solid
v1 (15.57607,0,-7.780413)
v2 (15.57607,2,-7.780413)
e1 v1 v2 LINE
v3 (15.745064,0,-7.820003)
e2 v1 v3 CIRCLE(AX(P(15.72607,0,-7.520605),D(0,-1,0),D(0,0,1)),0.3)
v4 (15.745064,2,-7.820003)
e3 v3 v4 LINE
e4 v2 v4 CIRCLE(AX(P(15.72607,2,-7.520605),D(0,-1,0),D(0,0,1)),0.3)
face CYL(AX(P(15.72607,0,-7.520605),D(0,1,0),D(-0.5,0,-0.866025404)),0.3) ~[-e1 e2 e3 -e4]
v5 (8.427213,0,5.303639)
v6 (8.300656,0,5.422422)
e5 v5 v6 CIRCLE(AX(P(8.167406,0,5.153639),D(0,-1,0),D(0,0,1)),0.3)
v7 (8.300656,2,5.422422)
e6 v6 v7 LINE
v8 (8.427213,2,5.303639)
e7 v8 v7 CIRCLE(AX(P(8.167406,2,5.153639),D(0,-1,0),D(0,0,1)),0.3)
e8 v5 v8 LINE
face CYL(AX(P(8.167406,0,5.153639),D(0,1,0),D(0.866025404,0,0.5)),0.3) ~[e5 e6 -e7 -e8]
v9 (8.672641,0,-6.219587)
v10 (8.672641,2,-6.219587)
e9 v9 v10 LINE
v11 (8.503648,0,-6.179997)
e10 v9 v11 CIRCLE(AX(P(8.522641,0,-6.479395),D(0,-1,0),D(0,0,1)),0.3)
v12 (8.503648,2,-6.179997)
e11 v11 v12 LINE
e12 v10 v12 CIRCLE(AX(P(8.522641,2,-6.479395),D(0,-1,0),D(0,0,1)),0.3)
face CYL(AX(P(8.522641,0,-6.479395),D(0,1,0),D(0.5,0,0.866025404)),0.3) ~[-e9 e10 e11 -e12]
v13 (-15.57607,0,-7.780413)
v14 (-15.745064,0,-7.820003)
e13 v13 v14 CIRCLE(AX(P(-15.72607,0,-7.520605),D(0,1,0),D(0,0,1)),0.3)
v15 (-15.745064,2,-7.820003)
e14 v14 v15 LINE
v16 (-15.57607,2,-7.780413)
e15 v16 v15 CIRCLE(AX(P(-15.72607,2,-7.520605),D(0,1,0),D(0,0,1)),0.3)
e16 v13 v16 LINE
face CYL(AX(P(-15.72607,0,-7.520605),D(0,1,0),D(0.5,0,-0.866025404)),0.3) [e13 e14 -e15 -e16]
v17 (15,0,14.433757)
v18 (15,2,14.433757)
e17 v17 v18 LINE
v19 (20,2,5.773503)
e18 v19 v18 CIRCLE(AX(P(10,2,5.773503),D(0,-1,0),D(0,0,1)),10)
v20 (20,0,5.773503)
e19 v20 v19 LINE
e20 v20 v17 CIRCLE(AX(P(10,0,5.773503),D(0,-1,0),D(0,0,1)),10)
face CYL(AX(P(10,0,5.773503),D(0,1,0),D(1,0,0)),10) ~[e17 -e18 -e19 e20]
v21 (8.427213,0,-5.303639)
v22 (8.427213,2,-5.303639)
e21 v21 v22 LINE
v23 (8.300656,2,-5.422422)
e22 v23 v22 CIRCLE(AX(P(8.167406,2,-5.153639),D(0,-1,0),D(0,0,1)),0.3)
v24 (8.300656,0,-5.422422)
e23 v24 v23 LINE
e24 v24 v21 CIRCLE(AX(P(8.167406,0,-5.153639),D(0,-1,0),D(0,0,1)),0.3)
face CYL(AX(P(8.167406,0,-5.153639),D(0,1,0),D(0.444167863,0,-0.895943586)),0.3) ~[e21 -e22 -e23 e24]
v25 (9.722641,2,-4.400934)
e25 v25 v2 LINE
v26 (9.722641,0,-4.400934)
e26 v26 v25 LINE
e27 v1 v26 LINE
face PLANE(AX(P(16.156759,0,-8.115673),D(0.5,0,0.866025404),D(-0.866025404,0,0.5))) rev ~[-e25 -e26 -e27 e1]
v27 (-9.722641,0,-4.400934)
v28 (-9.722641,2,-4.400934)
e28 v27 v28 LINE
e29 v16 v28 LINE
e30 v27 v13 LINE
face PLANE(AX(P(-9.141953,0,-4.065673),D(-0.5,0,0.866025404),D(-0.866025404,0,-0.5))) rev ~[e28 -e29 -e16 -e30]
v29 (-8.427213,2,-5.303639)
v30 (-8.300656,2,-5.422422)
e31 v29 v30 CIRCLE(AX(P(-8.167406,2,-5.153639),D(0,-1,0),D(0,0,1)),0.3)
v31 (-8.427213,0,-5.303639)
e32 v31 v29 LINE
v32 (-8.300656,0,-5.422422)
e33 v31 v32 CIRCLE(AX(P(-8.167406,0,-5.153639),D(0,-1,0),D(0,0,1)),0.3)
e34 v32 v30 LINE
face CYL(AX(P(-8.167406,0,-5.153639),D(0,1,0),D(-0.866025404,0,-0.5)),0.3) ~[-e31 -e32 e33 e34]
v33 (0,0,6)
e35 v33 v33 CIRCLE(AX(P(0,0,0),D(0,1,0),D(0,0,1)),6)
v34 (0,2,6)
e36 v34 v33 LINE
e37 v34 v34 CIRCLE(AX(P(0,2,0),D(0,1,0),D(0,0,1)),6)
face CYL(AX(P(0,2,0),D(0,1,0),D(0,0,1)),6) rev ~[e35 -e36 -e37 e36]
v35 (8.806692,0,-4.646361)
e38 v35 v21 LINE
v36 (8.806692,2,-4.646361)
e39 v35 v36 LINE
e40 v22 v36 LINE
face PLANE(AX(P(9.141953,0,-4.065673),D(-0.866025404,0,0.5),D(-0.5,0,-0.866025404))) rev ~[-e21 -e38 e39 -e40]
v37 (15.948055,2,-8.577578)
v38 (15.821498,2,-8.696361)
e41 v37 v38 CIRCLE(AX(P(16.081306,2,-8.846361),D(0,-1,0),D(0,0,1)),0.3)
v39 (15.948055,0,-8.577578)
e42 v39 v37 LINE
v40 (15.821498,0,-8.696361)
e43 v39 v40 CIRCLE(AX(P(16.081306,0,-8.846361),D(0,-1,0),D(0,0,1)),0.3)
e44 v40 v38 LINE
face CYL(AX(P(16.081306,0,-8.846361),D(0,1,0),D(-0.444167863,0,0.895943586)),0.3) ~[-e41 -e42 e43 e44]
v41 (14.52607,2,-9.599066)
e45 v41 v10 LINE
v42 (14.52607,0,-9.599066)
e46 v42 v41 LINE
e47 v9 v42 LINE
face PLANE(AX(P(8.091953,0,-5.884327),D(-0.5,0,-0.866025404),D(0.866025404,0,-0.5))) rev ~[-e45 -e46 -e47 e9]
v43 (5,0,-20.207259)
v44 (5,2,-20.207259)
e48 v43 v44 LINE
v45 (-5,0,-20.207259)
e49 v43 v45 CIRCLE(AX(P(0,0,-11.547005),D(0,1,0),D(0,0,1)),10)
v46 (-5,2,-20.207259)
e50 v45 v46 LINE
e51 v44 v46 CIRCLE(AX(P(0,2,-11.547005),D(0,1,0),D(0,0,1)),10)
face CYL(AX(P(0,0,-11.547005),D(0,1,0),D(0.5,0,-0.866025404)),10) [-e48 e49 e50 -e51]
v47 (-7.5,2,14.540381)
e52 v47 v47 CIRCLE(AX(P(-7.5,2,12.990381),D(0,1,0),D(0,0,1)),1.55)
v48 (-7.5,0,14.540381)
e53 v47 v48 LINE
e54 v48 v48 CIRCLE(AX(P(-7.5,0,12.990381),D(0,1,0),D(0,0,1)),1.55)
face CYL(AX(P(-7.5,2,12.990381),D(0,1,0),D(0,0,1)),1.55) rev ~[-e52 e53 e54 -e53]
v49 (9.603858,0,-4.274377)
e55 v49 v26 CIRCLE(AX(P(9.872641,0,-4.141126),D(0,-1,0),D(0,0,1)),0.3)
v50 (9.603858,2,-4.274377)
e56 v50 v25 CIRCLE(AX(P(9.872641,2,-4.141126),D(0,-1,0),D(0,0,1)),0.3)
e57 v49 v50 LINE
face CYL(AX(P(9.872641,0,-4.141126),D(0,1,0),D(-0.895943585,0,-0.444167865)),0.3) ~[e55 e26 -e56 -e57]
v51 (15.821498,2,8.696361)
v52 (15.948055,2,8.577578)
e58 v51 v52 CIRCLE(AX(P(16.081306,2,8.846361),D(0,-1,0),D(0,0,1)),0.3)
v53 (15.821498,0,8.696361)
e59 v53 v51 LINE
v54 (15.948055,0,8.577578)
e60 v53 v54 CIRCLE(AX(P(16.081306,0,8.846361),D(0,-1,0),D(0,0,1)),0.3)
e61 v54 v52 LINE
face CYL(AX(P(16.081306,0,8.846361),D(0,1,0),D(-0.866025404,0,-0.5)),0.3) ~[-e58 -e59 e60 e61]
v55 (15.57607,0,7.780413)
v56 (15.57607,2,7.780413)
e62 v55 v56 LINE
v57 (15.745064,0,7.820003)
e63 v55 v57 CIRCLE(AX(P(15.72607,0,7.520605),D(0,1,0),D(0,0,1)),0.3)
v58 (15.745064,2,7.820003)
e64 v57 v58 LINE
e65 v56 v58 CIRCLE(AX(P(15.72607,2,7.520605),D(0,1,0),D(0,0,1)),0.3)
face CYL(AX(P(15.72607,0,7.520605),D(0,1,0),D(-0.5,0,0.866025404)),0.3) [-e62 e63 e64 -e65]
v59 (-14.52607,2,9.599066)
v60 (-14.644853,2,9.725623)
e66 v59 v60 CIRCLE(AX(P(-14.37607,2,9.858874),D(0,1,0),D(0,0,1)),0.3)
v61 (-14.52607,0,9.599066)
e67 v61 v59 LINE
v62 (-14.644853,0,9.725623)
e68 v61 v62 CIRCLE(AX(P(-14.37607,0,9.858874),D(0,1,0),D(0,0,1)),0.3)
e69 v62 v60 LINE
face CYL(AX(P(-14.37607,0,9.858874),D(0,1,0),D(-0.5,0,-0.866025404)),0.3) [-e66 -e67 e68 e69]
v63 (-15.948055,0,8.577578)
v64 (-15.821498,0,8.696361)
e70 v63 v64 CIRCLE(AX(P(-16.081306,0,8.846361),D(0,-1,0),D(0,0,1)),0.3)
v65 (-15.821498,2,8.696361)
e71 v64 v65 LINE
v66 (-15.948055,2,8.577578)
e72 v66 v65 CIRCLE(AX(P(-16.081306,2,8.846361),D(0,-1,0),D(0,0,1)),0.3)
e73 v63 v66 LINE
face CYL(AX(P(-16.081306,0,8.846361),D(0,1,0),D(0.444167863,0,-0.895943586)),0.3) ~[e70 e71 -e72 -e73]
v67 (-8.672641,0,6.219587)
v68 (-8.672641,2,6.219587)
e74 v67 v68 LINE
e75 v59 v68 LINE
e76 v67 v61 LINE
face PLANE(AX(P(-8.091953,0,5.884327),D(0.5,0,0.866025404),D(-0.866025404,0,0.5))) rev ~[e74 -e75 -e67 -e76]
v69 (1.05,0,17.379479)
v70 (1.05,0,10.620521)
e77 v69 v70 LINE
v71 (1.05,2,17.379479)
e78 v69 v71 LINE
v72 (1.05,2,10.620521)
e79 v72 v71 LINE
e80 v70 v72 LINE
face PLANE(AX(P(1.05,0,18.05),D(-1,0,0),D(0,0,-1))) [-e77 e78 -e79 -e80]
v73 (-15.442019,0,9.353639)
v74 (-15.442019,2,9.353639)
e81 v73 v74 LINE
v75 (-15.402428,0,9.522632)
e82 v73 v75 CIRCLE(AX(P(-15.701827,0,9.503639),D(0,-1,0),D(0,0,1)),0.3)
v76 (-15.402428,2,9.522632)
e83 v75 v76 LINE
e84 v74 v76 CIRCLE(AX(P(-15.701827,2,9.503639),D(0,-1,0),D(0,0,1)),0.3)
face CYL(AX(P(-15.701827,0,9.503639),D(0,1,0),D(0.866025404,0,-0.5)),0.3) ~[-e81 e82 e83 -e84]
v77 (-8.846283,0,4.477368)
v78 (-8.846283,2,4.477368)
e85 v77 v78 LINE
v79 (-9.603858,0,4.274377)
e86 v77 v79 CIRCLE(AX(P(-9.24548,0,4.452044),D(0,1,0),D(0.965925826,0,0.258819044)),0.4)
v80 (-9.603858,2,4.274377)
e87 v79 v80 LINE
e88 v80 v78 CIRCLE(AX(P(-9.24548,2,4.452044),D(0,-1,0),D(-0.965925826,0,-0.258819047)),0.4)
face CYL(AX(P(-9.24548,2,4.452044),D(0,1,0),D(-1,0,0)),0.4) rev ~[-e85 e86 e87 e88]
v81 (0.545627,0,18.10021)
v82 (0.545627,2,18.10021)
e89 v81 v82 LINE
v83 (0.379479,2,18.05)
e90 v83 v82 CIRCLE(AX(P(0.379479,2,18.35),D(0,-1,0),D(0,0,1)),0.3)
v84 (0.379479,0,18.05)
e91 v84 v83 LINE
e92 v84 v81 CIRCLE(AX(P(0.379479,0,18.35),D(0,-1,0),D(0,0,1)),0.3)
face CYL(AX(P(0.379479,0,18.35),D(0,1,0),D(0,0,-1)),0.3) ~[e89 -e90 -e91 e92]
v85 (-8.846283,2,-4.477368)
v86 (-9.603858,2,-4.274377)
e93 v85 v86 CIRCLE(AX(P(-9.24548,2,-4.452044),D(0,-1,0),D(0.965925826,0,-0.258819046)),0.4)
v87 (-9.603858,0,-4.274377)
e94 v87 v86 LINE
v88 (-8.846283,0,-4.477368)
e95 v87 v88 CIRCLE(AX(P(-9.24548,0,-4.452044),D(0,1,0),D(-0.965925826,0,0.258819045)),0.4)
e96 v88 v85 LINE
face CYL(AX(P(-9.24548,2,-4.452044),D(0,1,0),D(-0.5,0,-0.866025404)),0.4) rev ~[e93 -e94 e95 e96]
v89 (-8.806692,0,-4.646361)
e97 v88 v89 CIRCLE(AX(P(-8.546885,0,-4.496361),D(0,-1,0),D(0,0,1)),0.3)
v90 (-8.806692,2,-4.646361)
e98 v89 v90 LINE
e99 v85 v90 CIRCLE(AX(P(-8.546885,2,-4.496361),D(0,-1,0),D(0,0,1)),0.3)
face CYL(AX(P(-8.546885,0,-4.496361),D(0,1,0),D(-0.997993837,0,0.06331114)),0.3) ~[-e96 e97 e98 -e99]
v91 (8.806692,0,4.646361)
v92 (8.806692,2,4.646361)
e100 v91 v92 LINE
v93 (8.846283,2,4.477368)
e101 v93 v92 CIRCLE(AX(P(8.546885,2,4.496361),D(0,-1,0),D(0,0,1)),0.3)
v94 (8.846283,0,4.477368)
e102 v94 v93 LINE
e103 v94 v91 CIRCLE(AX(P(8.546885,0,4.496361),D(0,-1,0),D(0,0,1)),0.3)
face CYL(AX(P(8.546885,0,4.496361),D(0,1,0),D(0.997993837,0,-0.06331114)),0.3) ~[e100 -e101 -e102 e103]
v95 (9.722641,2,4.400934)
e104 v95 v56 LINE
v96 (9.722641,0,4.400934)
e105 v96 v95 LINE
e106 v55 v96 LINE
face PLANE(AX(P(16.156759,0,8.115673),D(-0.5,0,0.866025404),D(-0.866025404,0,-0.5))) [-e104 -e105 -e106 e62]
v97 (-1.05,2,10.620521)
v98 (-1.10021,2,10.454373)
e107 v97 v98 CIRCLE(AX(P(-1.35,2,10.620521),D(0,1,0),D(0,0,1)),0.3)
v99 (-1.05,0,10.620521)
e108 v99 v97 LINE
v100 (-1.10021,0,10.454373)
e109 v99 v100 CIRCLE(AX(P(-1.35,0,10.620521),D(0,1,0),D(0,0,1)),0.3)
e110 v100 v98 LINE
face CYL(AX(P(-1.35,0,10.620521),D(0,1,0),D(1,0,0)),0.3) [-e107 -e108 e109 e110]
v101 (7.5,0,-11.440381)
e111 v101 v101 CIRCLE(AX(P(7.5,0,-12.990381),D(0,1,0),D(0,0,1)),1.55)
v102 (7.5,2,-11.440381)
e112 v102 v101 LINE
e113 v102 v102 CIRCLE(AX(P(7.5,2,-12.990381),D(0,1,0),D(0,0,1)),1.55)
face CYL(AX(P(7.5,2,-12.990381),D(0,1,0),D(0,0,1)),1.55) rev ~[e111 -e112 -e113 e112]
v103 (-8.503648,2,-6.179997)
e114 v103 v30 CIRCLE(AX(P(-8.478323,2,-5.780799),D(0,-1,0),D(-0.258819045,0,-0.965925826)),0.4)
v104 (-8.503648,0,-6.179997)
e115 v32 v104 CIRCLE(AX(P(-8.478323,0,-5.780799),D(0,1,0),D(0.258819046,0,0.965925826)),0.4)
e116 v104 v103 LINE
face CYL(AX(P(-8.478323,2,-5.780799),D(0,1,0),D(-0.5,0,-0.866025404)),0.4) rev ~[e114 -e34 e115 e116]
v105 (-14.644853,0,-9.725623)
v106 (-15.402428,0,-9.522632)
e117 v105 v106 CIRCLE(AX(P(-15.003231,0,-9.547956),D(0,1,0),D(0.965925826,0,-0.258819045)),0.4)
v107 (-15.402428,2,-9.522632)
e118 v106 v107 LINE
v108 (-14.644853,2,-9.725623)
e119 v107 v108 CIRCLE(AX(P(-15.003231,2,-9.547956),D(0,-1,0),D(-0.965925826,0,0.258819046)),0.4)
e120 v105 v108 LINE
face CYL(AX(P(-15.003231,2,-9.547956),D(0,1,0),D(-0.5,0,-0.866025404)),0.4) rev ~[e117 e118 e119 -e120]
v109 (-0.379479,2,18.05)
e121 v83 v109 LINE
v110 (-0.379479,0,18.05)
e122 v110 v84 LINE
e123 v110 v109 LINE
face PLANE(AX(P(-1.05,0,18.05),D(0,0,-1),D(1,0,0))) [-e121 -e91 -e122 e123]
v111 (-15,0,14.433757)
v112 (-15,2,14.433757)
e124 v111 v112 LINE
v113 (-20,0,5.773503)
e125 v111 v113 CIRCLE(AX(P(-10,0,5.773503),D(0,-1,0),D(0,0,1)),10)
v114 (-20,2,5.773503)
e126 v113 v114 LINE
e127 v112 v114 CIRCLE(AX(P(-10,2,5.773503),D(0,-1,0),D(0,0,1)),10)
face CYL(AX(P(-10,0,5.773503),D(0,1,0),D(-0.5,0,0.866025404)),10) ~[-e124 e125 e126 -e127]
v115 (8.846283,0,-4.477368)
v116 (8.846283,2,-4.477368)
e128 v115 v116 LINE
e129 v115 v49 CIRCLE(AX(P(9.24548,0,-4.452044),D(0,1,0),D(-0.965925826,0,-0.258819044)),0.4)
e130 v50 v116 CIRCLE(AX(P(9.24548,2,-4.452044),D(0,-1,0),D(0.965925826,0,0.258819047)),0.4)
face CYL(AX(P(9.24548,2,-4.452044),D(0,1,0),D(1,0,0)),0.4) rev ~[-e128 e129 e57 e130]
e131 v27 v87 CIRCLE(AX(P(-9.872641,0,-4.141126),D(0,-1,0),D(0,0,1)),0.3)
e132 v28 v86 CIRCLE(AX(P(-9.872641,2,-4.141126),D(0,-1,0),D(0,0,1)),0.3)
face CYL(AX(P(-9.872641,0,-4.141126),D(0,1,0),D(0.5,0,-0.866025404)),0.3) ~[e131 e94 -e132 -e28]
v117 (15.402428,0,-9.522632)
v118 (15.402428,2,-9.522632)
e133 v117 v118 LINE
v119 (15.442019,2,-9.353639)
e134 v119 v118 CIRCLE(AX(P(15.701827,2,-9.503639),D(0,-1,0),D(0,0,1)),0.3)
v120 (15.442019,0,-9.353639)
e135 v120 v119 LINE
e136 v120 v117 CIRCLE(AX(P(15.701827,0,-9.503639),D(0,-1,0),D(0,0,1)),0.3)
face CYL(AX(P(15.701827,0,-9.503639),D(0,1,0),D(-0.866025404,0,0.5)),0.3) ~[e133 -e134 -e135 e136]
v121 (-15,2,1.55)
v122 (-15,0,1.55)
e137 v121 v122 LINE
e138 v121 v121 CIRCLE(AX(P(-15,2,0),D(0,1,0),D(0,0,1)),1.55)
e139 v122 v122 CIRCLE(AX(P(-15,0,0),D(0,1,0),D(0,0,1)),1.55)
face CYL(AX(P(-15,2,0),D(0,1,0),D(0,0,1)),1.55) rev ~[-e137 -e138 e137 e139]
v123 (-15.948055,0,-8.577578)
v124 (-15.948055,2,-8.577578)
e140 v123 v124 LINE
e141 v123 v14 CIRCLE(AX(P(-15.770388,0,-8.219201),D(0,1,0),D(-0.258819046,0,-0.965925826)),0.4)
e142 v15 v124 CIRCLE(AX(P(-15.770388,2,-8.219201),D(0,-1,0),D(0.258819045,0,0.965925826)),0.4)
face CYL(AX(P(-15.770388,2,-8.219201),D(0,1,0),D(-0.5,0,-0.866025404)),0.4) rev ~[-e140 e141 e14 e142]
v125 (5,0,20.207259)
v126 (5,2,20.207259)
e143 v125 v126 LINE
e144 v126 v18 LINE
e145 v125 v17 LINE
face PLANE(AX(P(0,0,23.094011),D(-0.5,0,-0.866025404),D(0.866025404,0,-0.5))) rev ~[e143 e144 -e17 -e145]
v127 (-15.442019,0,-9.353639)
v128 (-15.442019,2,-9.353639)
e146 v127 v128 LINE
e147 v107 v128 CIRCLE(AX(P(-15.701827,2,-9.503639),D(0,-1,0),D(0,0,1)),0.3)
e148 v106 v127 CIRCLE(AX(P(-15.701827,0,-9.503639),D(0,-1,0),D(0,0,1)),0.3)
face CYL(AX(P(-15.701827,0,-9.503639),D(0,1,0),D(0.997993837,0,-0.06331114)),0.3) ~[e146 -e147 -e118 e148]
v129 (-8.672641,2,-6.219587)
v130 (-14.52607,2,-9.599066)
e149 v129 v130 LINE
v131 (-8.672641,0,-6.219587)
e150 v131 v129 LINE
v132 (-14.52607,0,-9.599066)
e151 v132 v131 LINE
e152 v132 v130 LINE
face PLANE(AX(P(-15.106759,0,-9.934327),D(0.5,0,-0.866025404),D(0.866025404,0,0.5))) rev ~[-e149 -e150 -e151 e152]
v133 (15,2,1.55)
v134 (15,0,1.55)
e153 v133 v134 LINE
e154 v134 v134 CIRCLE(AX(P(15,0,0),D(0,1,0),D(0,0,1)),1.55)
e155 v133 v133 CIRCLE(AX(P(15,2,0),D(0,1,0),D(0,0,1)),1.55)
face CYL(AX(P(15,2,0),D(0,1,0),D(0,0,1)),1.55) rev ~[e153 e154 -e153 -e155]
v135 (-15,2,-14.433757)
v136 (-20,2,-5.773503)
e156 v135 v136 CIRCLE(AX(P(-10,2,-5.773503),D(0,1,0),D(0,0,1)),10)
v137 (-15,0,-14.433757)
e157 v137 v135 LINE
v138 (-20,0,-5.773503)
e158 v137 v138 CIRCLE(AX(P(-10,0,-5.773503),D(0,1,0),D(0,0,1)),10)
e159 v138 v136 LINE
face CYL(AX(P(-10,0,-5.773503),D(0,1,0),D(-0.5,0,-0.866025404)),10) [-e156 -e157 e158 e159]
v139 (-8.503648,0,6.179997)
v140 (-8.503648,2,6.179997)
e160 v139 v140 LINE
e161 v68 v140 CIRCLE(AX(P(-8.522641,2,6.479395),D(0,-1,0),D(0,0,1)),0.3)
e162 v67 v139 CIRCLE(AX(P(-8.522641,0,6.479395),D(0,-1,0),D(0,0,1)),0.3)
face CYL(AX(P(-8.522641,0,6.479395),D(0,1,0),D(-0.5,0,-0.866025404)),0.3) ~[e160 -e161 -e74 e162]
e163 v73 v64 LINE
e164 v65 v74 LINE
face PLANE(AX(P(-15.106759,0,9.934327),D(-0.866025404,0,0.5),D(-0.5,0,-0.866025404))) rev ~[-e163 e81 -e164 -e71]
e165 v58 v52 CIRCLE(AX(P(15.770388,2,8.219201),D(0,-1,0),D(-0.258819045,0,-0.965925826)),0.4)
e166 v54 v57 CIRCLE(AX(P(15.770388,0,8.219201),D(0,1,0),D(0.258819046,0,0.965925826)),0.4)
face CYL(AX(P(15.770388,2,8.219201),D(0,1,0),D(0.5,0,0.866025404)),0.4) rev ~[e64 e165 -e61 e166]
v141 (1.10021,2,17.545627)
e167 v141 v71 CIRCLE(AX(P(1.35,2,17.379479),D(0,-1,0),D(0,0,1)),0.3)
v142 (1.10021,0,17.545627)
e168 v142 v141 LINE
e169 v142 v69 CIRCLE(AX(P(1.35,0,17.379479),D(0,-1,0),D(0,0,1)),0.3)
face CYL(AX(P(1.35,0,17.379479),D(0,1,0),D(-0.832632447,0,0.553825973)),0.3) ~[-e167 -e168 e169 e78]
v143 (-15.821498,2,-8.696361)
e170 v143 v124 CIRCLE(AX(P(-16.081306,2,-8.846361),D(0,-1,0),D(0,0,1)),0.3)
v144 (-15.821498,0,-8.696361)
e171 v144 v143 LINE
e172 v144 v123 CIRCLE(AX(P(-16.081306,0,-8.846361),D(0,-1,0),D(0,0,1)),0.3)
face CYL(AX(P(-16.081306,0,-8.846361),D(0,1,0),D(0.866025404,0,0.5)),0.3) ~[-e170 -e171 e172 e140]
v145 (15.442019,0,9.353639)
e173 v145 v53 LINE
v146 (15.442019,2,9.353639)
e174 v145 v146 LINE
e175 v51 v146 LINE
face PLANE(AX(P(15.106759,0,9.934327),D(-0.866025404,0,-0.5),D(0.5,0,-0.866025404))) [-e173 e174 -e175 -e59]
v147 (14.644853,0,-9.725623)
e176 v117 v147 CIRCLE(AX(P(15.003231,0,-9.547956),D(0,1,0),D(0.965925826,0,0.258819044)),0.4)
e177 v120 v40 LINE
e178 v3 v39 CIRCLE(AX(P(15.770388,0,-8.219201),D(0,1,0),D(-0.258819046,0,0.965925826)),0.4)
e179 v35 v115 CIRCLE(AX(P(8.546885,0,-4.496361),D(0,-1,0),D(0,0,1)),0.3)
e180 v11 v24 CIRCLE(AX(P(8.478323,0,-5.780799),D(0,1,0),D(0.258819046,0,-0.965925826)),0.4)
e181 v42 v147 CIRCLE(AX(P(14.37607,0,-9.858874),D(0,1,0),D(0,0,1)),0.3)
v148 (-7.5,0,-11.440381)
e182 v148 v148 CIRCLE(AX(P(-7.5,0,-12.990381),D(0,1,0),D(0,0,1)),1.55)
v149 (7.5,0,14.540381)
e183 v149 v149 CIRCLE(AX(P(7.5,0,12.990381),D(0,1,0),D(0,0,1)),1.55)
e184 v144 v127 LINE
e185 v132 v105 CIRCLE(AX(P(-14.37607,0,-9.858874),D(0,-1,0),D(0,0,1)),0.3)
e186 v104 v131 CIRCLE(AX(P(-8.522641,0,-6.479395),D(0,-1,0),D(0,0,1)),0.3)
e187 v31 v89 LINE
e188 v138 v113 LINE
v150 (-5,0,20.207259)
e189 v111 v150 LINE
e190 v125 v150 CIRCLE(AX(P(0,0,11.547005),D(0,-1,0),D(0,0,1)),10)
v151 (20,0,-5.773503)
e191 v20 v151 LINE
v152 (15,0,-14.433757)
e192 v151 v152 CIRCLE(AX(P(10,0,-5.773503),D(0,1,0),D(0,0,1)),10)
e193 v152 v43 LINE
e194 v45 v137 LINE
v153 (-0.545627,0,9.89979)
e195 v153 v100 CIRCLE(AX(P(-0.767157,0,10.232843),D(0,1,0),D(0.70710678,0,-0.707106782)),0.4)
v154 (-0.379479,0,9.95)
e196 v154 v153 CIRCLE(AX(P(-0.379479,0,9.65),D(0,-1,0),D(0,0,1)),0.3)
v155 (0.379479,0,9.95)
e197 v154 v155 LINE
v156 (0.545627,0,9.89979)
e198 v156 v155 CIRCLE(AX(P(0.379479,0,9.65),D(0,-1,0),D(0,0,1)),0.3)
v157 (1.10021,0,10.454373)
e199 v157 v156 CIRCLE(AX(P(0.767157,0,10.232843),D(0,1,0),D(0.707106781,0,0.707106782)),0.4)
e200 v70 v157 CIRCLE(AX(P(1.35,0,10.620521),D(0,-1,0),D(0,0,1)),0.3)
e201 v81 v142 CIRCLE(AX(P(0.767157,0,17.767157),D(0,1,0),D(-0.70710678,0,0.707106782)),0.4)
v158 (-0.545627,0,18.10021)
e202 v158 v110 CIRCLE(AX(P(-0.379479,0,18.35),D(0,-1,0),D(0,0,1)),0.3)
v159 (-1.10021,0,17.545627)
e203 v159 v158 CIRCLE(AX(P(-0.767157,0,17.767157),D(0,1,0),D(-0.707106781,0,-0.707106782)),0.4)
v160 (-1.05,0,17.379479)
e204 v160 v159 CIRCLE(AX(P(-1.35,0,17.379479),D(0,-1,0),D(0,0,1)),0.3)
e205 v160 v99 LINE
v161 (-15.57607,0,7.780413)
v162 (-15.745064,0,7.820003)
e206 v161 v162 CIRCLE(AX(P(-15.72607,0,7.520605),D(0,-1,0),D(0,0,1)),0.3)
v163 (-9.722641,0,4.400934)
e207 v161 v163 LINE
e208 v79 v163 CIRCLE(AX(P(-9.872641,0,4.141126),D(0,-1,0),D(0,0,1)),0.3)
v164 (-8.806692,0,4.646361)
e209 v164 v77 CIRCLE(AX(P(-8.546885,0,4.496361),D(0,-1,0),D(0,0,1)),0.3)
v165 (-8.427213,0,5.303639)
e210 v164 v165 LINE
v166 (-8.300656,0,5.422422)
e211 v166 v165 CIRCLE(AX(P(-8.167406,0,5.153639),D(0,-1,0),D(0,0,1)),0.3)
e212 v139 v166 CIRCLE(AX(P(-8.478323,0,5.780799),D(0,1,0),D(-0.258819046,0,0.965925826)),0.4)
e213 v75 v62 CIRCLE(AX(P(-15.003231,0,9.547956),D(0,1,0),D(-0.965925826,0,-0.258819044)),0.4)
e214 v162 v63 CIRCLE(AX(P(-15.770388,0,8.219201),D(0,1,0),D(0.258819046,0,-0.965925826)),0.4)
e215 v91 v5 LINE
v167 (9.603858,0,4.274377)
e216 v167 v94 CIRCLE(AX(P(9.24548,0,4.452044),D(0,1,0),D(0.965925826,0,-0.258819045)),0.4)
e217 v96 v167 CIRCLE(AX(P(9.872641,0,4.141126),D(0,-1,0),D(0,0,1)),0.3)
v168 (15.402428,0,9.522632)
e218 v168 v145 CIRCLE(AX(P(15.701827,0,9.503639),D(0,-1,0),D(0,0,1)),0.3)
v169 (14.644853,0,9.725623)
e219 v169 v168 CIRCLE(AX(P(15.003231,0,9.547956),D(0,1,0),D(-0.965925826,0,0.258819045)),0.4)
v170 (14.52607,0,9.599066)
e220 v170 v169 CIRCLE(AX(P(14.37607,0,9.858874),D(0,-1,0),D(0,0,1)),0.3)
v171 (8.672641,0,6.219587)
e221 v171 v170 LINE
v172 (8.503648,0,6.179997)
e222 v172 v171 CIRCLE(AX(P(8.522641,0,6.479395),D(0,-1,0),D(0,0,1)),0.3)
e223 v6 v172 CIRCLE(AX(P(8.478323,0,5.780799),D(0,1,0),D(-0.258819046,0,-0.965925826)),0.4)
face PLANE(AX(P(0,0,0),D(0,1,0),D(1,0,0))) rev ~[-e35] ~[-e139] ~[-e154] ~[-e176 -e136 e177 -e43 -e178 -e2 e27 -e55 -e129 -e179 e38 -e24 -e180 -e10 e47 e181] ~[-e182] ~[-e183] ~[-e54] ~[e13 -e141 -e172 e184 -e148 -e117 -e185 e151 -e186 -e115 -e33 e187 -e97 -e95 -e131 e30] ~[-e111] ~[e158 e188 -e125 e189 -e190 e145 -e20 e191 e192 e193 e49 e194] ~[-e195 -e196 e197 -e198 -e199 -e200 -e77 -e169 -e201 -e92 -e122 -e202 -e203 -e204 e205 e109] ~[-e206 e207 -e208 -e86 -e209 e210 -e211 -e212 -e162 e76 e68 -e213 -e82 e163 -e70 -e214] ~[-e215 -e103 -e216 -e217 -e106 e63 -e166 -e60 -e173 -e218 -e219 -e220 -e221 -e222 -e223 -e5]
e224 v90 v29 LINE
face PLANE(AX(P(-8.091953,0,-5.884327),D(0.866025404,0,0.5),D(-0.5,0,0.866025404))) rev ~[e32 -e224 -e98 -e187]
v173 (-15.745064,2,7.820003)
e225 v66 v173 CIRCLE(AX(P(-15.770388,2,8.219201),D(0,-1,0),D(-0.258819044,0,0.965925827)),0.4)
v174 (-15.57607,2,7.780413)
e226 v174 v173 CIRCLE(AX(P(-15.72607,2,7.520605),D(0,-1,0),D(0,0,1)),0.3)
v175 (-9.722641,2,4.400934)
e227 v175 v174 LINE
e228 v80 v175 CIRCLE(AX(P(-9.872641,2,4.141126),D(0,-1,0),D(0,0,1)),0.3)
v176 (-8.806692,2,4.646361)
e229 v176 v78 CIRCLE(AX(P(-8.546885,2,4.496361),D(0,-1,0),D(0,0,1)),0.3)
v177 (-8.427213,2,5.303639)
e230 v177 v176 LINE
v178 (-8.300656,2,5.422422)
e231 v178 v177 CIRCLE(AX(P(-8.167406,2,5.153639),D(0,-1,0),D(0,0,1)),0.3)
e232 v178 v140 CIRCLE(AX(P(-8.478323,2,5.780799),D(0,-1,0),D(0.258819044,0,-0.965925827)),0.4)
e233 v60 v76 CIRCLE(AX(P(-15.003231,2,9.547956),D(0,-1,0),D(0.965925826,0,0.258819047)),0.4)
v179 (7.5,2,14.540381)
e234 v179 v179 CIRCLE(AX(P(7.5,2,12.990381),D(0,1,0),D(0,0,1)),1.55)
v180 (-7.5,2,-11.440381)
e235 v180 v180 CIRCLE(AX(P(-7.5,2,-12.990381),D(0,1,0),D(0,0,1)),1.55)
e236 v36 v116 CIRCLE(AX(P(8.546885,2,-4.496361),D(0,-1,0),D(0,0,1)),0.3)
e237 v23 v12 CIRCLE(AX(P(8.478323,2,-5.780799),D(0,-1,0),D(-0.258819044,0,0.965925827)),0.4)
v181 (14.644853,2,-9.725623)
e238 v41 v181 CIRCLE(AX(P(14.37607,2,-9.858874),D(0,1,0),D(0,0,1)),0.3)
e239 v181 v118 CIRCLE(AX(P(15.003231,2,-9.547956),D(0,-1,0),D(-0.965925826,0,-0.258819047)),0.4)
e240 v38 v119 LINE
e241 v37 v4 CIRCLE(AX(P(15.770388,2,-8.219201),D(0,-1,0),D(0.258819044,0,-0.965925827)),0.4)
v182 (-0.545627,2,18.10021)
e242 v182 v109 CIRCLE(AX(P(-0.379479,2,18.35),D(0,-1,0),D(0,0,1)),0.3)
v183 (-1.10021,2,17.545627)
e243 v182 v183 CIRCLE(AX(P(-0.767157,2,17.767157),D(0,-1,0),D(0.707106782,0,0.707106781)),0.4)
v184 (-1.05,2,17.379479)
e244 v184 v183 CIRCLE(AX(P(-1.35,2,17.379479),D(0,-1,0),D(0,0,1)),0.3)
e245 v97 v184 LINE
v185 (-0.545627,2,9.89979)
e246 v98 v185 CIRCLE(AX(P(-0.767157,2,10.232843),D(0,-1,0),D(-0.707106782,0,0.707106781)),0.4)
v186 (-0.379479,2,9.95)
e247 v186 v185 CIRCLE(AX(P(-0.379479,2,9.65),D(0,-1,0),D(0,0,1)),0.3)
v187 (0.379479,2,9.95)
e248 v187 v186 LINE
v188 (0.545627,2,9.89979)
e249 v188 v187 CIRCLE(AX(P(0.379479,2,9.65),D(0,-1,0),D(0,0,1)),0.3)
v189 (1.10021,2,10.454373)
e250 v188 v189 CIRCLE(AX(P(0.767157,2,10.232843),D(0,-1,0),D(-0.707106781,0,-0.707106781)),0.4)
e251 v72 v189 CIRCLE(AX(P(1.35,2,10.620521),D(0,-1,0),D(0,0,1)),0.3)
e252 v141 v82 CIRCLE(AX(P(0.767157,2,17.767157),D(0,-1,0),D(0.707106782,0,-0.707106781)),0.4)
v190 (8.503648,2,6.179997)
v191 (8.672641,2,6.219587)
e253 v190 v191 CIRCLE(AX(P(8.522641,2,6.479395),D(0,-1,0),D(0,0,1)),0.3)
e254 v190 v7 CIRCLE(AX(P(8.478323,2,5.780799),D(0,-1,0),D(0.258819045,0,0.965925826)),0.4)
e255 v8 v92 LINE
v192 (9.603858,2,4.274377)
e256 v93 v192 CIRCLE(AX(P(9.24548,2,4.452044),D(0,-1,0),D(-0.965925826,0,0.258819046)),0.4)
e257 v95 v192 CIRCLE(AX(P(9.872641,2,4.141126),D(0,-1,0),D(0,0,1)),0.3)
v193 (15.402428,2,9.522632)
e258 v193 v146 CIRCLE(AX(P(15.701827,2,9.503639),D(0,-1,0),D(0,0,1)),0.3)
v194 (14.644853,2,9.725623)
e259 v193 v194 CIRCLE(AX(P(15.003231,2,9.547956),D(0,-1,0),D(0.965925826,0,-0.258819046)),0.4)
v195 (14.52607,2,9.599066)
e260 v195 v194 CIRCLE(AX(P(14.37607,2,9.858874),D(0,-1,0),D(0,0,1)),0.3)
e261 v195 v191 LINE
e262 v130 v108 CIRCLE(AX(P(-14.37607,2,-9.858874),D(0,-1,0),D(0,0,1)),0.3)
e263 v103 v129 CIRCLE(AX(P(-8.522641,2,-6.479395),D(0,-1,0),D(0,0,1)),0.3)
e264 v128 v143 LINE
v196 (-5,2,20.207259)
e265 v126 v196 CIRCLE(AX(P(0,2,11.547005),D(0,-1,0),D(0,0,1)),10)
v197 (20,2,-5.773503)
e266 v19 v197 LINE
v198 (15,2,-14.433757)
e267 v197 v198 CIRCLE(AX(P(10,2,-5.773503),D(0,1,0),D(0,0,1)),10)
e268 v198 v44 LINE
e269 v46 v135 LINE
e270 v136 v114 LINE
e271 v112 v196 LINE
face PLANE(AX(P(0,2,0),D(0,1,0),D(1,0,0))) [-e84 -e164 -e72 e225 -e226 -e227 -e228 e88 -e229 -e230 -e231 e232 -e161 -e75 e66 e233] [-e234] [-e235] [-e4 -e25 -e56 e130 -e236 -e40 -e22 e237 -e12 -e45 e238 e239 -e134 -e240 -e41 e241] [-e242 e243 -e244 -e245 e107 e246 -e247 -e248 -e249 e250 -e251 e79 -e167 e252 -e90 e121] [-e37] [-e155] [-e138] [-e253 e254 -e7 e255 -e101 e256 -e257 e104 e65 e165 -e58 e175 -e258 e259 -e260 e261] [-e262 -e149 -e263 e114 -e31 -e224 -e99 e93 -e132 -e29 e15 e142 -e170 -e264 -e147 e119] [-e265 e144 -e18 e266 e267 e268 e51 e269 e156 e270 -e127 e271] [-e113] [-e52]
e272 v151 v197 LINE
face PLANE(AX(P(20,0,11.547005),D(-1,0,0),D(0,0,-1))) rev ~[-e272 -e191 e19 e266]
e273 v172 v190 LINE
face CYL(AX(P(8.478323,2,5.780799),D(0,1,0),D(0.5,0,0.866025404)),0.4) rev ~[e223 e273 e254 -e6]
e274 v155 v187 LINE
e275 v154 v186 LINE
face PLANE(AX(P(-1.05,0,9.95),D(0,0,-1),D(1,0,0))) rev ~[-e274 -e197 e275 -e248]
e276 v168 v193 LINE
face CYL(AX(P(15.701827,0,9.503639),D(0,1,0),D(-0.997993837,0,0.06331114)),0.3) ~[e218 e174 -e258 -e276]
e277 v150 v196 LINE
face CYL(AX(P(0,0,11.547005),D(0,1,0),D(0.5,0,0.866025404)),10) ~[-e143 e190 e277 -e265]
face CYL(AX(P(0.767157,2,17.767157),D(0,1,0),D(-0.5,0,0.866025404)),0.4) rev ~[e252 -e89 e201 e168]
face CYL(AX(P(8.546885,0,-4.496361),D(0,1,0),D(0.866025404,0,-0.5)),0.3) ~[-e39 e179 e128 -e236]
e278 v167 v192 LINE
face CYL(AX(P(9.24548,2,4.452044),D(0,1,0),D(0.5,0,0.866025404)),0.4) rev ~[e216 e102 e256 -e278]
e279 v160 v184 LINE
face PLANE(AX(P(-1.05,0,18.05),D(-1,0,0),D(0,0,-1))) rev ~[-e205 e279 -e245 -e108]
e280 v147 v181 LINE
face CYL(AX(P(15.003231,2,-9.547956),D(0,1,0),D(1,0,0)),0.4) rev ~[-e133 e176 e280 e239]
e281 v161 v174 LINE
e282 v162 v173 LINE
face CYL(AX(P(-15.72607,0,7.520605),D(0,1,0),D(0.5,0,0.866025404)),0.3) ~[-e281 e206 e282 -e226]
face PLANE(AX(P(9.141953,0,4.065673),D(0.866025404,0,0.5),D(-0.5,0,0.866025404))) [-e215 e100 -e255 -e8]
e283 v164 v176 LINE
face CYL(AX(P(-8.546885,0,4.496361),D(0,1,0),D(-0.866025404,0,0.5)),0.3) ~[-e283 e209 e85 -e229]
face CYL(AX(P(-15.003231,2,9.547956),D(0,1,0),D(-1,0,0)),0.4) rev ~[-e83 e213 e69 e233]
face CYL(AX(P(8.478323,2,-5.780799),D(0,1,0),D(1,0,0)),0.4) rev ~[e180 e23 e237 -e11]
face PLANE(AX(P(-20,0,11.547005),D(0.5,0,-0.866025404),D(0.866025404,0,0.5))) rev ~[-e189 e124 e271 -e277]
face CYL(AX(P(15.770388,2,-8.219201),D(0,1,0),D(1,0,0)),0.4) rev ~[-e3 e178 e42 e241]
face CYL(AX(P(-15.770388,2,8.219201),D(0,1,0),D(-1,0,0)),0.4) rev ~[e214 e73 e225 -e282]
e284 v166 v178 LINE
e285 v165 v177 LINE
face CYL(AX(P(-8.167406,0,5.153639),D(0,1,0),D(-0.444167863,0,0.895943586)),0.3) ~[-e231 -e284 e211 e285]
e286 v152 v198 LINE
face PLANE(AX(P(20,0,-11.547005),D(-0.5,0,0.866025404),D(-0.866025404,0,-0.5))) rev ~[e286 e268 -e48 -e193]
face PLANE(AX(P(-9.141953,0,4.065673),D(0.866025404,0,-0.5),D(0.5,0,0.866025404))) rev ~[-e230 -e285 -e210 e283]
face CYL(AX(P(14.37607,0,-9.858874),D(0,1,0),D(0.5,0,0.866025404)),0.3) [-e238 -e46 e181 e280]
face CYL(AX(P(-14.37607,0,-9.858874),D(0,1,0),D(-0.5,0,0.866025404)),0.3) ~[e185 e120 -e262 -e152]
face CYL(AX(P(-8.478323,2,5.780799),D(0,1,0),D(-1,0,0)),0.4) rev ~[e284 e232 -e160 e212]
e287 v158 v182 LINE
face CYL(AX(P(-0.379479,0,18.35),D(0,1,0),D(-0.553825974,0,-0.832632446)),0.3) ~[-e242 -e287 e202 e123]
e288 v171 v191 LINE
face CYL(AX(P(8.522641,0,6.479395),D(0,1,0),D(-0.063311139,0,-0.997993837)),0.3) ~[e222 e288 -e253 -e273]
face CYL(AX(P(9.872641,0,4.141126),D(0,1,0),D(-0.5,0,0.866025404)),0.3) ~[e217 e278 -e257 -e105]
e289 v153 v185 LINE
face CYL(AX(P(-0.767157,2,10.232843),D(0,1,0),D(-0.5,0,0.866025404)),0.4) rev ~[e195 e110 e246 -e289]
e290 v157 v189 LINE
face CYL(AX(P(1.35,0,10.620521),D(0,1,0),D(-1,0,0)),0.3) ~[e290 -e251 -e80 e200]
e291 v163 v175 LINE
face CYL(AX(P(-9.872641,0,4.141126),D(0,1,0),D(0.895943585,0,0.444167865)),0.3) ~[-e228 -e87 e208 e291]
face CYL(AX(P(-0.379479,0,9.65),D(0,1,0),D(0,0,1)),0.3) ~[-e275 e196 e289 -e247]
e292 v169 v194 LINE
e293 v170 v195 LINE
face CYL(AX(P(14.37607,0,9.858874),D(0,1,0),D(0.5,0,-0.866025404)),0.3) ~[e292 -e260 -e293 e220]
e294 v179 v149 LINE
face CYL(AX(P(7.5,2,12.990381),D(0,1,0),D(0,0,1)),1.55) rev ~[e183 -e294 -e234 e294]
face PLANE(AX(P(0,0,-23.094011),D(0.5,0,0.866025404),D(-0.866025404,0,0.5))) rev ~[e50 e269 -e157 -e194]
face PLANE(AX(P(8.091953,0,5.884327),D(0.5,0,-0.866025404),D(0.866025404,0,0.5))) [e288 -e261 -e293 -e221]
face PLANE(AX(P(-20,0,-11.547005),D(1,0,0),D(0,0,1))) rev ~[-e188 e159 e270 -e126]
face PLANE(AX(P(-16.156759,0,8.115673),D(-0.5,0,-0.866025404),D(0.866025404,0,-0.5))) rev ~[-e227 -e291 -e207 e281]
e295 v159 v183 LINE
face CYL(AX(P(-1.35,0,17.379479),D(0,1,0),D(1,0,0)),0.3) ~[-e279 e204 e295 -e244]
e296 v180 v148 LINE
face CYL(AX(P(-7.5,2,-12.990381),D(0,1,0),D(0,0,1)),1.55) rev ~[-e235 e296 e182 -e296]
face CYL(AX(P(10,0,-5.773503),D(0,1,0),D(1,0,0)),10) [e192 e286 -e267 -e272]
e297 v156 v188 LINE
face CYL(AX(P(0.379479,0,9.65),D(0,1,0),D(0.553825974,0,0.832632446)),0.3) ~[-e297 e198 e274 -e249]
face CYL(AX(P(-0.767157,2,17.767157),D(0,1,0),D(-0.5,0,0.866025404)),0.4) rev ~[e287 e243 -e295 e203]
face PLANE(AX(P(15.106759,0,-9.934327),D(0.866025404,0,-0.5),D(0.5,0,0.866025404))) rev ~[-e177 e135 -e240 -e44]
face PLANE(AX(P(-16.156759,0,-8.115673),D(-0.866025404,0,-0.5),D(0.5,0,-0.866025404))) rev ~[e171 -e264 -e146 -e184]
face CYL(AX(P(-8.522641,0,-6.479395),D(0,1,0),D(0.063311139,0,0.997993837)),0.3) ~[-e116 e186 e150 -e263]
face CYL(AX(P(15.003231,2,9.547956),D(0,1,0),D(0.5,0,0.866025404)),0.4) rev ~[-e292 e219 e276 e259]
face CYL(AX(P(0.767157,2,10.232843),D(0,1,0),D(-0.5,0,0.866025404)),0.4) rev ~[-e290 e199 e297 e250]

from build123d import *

# Parameters (mm, degrees)
EXTRUDE_1_DEPTH          = 2
SKETCH_1_3_W             = 2.1
SKETCH_1_3_H             = 8.1
CUT_EXTRUDE_1_DEPTH      = 31.615900009
SKETCH_2_R               = 1.55
SKETCH_2_R_2             = 6
CUT_EXTRUDE_2_DEPTH      = 10
FILLET_1_R               = 10
SKETCH_4_R               = 0.4
CUT_EXTRUDE_3_DEPTH      = 10
PATTERN_CIRCULAR_1_COUNT = 5
PATTERN_CIRCULAR_1_ANGLE = 240
FILLET_2_R               = 0.3


with BuildPart() as part:
    # 草图1 → 凸台-拉伸1 (new body)
    with BuildSketch(Plane(origin=(0, 0, 0), x_dir=(1, 0, 0), z_dir=(0, 1, 0))):
        Polygon((20, -11.547005384), (20, 11.547005384), (0, 23.094010768), (-20, 11.547005384), (-20, -11.547005384), (0, -23.094010768), align=None)
    extrude(amount=EXTRUDE_1_DEPTH)

    # 草图1<3> → 切除-拉伸1 (cut, through all)
    with BuildSketch(Plane(origin=(0, 0, 0), x_dir=(1, 0, 0), z_dir=(0, 1, 0))):
        Polygon((8.091952768, -5.884326674), (15.106758538, -9.934326674), (16.156758538, -8.115673326), (9.141952768, -4.065673326), align=None)
        with Locations((0, -14)):
            Rectangle(SKETCH_1_3_W, SKETCH_1_3_H)
        Polygon((-8.091952768, -5.884326674), (-15.106758538, -9.934326674), (-16.156758538, -8.115673326), (-9.141952768, -4.065673326), align=None)
        Polygon((-9.141952768, 4.065673326), (-16.156758538, 8.115673326), (-15.106758538, 9.934326674), (-8.091952768, 5.884326674), align=None)
        Polygon((8.091952768, 5.884326674), (15.106758538, 9.934326674), (16.156758538, 8.115673326), (9.141952768, 4.065673326), align=None)
    extrude(amount=CUT_EXTRUDE_1_DEPTH, mode=Mode.SUBTRACT)

    # 草图2 → 切除-拉伸2 (cut)
    with BuildSketch(Plane(origin=(0, 2, 0), x_dir=(1, 0, 0), z_dir=(0, 1, 0))):
        with Locations(Location((15, 0, 0), (0, 0, 270))):
            Circle(SKETCH_2_R)
        with Locations(Location((0, 0, 0), (0, 0, 270))):
            Circle(SKETCH_2_R_2)
        with Locations(Location((7.5, -12.990381057, 0), (0, 0, 270))):
            Circle(SKETCH_2_R)
        with Locations(Location((-7.5, -12.990381057, 0), (0, 0, 270))):
            Circle(SKETCH_2_R)
        with Locations(Location((-15, 0, 0), (0, 0, 270))):
            Circle(SKETCH_2_R)
        with Locations(Location((-7.5, 12.990381057, 0), (0, 0, 270))):
            Circle(SKETCH_2_R)
        with Locations(Location((7.5, 12.990381057, 0), (0, 0, 270))):
            Circle(SKETCH_2_R)
    extrude(amount=-CUT_EXTRUDE_2_DEPTH, mode=Mode.SUBTRACT)

    # 圆角1
    fillet_1_edges = [part.edges().sort_by_distance(p)[0] for p in [
        (20, 1, -11.547005384),
        (20, 1, 11.547005384),
        (0, 1, 23.094010768),
        (-20, 1, 11.547005384),
        (-20, 1, -11.547005384),
        (0, 1, -23.094010768),
    ]]
    fillet(fillet_1_edges, radius=FILLET_1_R)

    # 草图4 → 切除-拉伸3 (cut)
    with BuildSketch(Plane(origin=(0, 2, 0), x_dir=(1, 0, 0), z_dir=(0, 1, 0))):
        with Locations((15.00323092, 9.547956343)):
            Circle(SKETCH_4_R)
        with Locations((15.770388208, 8.219200944)):
            Circle(SKETCH_4_R)
        with Locations((8.478323098, 5.780799056)):
            Circle(SKETCH_4_R)
        with Locations((9.245480386, 4.452043657)):
            Circle(SKETCH_4_R)
    cut_extrude_3 = extrude(amount=-CUT_EXTRUDE_3_DEPTH, mode=Mode.SUBTRACT)

    # 阵列(圆周)1: 切除-拉伸3 ×5 about axis
    pattern_circular_1_axis = Axis((0, 0, 0), (0, -1, 0))
    for i in range(1, PATTERN_CIRCULAR_1_COUNT):
        add(cut_extrude_3.rotate(pattern_circular_1_axis, i * PATTERN_CIRCULAR_1_ANGLE / (PATTERN_CIRCULAR_1_COUNT - 1)), mode=Mode.SUBTRACT)

    # 圆角2
    fillet_2_edges = [part.edges().sort_by_distance(p)[0] for p in [
        (8.37479548, 1, -5.394428725),
        (8.859110055, 1, -4.555571275),
        (14.61686059, 1, -9.651483961),
        (15.873915826, 1, -8.605571275),
        (15.389601251, 1, -9.444428725),
        (15.66686059, 1, -7.832830614),
        (9.631850716, 1, -4.348516039),
        (8.581850716, 1, -6.167169386),
        (-8.859110055, 1, -4.555571275),
        (-8.37479548, 1, -5.394428725),
        (-15.66686059, 1, -7.832830614),
        (-15.389601251, 1, -9.444428725),
        (-8.859110055, 1, 4.555571275),
        (-8.37479548, 1, 5.394428725),
        (-14.61686059, 1, 9.651483961),
        (-15.873915826, 1, 8.605571275),
        (-0.484314575, 1, 9.95),
        (0.484314575, 1, 9.95),
        (1.05, 1, 17.484314575),
        (-0.484314575, 1, 18.05),
        (15.873915826, 1, 8.605571275),
        (15.389601251, 1, 9.444428725),
        (8.581850716, 1, 6.167169386),
        (8.859110055, 1, 4.555571275),
        (-14.61686059, 1, -9.651483961),
        (-15.873915826, 1, -8.605571275),
        (14.61686059, 1, 9.651483961),
        (15.66686059, 1, 7.832830614),
        (8.37479548, 1, 5.394428725),
        (1.05, 1, 10.515685425),
        (-1.05, 1, 10.515685425),
        (0.484314575, 1, 18.05),
        (-8.581850716, 1, -6.167169386),
        (-9.631850716, 1, -4.348516039),
        (-15.66686059, 1, 7.832830614),
        (-1.05, 1, 17.484314575),
        (-8.581850716, 1, 6.167169386),
        (-9.631850716, 1, 4.348516039),
        (-15.389601251, 1, 9.444428725),
        (9.631850716, 1, 4.348516039),
    ]]
    fillet(fillet_2_edges, radius=FILLET_2_R)


solid = part.part
